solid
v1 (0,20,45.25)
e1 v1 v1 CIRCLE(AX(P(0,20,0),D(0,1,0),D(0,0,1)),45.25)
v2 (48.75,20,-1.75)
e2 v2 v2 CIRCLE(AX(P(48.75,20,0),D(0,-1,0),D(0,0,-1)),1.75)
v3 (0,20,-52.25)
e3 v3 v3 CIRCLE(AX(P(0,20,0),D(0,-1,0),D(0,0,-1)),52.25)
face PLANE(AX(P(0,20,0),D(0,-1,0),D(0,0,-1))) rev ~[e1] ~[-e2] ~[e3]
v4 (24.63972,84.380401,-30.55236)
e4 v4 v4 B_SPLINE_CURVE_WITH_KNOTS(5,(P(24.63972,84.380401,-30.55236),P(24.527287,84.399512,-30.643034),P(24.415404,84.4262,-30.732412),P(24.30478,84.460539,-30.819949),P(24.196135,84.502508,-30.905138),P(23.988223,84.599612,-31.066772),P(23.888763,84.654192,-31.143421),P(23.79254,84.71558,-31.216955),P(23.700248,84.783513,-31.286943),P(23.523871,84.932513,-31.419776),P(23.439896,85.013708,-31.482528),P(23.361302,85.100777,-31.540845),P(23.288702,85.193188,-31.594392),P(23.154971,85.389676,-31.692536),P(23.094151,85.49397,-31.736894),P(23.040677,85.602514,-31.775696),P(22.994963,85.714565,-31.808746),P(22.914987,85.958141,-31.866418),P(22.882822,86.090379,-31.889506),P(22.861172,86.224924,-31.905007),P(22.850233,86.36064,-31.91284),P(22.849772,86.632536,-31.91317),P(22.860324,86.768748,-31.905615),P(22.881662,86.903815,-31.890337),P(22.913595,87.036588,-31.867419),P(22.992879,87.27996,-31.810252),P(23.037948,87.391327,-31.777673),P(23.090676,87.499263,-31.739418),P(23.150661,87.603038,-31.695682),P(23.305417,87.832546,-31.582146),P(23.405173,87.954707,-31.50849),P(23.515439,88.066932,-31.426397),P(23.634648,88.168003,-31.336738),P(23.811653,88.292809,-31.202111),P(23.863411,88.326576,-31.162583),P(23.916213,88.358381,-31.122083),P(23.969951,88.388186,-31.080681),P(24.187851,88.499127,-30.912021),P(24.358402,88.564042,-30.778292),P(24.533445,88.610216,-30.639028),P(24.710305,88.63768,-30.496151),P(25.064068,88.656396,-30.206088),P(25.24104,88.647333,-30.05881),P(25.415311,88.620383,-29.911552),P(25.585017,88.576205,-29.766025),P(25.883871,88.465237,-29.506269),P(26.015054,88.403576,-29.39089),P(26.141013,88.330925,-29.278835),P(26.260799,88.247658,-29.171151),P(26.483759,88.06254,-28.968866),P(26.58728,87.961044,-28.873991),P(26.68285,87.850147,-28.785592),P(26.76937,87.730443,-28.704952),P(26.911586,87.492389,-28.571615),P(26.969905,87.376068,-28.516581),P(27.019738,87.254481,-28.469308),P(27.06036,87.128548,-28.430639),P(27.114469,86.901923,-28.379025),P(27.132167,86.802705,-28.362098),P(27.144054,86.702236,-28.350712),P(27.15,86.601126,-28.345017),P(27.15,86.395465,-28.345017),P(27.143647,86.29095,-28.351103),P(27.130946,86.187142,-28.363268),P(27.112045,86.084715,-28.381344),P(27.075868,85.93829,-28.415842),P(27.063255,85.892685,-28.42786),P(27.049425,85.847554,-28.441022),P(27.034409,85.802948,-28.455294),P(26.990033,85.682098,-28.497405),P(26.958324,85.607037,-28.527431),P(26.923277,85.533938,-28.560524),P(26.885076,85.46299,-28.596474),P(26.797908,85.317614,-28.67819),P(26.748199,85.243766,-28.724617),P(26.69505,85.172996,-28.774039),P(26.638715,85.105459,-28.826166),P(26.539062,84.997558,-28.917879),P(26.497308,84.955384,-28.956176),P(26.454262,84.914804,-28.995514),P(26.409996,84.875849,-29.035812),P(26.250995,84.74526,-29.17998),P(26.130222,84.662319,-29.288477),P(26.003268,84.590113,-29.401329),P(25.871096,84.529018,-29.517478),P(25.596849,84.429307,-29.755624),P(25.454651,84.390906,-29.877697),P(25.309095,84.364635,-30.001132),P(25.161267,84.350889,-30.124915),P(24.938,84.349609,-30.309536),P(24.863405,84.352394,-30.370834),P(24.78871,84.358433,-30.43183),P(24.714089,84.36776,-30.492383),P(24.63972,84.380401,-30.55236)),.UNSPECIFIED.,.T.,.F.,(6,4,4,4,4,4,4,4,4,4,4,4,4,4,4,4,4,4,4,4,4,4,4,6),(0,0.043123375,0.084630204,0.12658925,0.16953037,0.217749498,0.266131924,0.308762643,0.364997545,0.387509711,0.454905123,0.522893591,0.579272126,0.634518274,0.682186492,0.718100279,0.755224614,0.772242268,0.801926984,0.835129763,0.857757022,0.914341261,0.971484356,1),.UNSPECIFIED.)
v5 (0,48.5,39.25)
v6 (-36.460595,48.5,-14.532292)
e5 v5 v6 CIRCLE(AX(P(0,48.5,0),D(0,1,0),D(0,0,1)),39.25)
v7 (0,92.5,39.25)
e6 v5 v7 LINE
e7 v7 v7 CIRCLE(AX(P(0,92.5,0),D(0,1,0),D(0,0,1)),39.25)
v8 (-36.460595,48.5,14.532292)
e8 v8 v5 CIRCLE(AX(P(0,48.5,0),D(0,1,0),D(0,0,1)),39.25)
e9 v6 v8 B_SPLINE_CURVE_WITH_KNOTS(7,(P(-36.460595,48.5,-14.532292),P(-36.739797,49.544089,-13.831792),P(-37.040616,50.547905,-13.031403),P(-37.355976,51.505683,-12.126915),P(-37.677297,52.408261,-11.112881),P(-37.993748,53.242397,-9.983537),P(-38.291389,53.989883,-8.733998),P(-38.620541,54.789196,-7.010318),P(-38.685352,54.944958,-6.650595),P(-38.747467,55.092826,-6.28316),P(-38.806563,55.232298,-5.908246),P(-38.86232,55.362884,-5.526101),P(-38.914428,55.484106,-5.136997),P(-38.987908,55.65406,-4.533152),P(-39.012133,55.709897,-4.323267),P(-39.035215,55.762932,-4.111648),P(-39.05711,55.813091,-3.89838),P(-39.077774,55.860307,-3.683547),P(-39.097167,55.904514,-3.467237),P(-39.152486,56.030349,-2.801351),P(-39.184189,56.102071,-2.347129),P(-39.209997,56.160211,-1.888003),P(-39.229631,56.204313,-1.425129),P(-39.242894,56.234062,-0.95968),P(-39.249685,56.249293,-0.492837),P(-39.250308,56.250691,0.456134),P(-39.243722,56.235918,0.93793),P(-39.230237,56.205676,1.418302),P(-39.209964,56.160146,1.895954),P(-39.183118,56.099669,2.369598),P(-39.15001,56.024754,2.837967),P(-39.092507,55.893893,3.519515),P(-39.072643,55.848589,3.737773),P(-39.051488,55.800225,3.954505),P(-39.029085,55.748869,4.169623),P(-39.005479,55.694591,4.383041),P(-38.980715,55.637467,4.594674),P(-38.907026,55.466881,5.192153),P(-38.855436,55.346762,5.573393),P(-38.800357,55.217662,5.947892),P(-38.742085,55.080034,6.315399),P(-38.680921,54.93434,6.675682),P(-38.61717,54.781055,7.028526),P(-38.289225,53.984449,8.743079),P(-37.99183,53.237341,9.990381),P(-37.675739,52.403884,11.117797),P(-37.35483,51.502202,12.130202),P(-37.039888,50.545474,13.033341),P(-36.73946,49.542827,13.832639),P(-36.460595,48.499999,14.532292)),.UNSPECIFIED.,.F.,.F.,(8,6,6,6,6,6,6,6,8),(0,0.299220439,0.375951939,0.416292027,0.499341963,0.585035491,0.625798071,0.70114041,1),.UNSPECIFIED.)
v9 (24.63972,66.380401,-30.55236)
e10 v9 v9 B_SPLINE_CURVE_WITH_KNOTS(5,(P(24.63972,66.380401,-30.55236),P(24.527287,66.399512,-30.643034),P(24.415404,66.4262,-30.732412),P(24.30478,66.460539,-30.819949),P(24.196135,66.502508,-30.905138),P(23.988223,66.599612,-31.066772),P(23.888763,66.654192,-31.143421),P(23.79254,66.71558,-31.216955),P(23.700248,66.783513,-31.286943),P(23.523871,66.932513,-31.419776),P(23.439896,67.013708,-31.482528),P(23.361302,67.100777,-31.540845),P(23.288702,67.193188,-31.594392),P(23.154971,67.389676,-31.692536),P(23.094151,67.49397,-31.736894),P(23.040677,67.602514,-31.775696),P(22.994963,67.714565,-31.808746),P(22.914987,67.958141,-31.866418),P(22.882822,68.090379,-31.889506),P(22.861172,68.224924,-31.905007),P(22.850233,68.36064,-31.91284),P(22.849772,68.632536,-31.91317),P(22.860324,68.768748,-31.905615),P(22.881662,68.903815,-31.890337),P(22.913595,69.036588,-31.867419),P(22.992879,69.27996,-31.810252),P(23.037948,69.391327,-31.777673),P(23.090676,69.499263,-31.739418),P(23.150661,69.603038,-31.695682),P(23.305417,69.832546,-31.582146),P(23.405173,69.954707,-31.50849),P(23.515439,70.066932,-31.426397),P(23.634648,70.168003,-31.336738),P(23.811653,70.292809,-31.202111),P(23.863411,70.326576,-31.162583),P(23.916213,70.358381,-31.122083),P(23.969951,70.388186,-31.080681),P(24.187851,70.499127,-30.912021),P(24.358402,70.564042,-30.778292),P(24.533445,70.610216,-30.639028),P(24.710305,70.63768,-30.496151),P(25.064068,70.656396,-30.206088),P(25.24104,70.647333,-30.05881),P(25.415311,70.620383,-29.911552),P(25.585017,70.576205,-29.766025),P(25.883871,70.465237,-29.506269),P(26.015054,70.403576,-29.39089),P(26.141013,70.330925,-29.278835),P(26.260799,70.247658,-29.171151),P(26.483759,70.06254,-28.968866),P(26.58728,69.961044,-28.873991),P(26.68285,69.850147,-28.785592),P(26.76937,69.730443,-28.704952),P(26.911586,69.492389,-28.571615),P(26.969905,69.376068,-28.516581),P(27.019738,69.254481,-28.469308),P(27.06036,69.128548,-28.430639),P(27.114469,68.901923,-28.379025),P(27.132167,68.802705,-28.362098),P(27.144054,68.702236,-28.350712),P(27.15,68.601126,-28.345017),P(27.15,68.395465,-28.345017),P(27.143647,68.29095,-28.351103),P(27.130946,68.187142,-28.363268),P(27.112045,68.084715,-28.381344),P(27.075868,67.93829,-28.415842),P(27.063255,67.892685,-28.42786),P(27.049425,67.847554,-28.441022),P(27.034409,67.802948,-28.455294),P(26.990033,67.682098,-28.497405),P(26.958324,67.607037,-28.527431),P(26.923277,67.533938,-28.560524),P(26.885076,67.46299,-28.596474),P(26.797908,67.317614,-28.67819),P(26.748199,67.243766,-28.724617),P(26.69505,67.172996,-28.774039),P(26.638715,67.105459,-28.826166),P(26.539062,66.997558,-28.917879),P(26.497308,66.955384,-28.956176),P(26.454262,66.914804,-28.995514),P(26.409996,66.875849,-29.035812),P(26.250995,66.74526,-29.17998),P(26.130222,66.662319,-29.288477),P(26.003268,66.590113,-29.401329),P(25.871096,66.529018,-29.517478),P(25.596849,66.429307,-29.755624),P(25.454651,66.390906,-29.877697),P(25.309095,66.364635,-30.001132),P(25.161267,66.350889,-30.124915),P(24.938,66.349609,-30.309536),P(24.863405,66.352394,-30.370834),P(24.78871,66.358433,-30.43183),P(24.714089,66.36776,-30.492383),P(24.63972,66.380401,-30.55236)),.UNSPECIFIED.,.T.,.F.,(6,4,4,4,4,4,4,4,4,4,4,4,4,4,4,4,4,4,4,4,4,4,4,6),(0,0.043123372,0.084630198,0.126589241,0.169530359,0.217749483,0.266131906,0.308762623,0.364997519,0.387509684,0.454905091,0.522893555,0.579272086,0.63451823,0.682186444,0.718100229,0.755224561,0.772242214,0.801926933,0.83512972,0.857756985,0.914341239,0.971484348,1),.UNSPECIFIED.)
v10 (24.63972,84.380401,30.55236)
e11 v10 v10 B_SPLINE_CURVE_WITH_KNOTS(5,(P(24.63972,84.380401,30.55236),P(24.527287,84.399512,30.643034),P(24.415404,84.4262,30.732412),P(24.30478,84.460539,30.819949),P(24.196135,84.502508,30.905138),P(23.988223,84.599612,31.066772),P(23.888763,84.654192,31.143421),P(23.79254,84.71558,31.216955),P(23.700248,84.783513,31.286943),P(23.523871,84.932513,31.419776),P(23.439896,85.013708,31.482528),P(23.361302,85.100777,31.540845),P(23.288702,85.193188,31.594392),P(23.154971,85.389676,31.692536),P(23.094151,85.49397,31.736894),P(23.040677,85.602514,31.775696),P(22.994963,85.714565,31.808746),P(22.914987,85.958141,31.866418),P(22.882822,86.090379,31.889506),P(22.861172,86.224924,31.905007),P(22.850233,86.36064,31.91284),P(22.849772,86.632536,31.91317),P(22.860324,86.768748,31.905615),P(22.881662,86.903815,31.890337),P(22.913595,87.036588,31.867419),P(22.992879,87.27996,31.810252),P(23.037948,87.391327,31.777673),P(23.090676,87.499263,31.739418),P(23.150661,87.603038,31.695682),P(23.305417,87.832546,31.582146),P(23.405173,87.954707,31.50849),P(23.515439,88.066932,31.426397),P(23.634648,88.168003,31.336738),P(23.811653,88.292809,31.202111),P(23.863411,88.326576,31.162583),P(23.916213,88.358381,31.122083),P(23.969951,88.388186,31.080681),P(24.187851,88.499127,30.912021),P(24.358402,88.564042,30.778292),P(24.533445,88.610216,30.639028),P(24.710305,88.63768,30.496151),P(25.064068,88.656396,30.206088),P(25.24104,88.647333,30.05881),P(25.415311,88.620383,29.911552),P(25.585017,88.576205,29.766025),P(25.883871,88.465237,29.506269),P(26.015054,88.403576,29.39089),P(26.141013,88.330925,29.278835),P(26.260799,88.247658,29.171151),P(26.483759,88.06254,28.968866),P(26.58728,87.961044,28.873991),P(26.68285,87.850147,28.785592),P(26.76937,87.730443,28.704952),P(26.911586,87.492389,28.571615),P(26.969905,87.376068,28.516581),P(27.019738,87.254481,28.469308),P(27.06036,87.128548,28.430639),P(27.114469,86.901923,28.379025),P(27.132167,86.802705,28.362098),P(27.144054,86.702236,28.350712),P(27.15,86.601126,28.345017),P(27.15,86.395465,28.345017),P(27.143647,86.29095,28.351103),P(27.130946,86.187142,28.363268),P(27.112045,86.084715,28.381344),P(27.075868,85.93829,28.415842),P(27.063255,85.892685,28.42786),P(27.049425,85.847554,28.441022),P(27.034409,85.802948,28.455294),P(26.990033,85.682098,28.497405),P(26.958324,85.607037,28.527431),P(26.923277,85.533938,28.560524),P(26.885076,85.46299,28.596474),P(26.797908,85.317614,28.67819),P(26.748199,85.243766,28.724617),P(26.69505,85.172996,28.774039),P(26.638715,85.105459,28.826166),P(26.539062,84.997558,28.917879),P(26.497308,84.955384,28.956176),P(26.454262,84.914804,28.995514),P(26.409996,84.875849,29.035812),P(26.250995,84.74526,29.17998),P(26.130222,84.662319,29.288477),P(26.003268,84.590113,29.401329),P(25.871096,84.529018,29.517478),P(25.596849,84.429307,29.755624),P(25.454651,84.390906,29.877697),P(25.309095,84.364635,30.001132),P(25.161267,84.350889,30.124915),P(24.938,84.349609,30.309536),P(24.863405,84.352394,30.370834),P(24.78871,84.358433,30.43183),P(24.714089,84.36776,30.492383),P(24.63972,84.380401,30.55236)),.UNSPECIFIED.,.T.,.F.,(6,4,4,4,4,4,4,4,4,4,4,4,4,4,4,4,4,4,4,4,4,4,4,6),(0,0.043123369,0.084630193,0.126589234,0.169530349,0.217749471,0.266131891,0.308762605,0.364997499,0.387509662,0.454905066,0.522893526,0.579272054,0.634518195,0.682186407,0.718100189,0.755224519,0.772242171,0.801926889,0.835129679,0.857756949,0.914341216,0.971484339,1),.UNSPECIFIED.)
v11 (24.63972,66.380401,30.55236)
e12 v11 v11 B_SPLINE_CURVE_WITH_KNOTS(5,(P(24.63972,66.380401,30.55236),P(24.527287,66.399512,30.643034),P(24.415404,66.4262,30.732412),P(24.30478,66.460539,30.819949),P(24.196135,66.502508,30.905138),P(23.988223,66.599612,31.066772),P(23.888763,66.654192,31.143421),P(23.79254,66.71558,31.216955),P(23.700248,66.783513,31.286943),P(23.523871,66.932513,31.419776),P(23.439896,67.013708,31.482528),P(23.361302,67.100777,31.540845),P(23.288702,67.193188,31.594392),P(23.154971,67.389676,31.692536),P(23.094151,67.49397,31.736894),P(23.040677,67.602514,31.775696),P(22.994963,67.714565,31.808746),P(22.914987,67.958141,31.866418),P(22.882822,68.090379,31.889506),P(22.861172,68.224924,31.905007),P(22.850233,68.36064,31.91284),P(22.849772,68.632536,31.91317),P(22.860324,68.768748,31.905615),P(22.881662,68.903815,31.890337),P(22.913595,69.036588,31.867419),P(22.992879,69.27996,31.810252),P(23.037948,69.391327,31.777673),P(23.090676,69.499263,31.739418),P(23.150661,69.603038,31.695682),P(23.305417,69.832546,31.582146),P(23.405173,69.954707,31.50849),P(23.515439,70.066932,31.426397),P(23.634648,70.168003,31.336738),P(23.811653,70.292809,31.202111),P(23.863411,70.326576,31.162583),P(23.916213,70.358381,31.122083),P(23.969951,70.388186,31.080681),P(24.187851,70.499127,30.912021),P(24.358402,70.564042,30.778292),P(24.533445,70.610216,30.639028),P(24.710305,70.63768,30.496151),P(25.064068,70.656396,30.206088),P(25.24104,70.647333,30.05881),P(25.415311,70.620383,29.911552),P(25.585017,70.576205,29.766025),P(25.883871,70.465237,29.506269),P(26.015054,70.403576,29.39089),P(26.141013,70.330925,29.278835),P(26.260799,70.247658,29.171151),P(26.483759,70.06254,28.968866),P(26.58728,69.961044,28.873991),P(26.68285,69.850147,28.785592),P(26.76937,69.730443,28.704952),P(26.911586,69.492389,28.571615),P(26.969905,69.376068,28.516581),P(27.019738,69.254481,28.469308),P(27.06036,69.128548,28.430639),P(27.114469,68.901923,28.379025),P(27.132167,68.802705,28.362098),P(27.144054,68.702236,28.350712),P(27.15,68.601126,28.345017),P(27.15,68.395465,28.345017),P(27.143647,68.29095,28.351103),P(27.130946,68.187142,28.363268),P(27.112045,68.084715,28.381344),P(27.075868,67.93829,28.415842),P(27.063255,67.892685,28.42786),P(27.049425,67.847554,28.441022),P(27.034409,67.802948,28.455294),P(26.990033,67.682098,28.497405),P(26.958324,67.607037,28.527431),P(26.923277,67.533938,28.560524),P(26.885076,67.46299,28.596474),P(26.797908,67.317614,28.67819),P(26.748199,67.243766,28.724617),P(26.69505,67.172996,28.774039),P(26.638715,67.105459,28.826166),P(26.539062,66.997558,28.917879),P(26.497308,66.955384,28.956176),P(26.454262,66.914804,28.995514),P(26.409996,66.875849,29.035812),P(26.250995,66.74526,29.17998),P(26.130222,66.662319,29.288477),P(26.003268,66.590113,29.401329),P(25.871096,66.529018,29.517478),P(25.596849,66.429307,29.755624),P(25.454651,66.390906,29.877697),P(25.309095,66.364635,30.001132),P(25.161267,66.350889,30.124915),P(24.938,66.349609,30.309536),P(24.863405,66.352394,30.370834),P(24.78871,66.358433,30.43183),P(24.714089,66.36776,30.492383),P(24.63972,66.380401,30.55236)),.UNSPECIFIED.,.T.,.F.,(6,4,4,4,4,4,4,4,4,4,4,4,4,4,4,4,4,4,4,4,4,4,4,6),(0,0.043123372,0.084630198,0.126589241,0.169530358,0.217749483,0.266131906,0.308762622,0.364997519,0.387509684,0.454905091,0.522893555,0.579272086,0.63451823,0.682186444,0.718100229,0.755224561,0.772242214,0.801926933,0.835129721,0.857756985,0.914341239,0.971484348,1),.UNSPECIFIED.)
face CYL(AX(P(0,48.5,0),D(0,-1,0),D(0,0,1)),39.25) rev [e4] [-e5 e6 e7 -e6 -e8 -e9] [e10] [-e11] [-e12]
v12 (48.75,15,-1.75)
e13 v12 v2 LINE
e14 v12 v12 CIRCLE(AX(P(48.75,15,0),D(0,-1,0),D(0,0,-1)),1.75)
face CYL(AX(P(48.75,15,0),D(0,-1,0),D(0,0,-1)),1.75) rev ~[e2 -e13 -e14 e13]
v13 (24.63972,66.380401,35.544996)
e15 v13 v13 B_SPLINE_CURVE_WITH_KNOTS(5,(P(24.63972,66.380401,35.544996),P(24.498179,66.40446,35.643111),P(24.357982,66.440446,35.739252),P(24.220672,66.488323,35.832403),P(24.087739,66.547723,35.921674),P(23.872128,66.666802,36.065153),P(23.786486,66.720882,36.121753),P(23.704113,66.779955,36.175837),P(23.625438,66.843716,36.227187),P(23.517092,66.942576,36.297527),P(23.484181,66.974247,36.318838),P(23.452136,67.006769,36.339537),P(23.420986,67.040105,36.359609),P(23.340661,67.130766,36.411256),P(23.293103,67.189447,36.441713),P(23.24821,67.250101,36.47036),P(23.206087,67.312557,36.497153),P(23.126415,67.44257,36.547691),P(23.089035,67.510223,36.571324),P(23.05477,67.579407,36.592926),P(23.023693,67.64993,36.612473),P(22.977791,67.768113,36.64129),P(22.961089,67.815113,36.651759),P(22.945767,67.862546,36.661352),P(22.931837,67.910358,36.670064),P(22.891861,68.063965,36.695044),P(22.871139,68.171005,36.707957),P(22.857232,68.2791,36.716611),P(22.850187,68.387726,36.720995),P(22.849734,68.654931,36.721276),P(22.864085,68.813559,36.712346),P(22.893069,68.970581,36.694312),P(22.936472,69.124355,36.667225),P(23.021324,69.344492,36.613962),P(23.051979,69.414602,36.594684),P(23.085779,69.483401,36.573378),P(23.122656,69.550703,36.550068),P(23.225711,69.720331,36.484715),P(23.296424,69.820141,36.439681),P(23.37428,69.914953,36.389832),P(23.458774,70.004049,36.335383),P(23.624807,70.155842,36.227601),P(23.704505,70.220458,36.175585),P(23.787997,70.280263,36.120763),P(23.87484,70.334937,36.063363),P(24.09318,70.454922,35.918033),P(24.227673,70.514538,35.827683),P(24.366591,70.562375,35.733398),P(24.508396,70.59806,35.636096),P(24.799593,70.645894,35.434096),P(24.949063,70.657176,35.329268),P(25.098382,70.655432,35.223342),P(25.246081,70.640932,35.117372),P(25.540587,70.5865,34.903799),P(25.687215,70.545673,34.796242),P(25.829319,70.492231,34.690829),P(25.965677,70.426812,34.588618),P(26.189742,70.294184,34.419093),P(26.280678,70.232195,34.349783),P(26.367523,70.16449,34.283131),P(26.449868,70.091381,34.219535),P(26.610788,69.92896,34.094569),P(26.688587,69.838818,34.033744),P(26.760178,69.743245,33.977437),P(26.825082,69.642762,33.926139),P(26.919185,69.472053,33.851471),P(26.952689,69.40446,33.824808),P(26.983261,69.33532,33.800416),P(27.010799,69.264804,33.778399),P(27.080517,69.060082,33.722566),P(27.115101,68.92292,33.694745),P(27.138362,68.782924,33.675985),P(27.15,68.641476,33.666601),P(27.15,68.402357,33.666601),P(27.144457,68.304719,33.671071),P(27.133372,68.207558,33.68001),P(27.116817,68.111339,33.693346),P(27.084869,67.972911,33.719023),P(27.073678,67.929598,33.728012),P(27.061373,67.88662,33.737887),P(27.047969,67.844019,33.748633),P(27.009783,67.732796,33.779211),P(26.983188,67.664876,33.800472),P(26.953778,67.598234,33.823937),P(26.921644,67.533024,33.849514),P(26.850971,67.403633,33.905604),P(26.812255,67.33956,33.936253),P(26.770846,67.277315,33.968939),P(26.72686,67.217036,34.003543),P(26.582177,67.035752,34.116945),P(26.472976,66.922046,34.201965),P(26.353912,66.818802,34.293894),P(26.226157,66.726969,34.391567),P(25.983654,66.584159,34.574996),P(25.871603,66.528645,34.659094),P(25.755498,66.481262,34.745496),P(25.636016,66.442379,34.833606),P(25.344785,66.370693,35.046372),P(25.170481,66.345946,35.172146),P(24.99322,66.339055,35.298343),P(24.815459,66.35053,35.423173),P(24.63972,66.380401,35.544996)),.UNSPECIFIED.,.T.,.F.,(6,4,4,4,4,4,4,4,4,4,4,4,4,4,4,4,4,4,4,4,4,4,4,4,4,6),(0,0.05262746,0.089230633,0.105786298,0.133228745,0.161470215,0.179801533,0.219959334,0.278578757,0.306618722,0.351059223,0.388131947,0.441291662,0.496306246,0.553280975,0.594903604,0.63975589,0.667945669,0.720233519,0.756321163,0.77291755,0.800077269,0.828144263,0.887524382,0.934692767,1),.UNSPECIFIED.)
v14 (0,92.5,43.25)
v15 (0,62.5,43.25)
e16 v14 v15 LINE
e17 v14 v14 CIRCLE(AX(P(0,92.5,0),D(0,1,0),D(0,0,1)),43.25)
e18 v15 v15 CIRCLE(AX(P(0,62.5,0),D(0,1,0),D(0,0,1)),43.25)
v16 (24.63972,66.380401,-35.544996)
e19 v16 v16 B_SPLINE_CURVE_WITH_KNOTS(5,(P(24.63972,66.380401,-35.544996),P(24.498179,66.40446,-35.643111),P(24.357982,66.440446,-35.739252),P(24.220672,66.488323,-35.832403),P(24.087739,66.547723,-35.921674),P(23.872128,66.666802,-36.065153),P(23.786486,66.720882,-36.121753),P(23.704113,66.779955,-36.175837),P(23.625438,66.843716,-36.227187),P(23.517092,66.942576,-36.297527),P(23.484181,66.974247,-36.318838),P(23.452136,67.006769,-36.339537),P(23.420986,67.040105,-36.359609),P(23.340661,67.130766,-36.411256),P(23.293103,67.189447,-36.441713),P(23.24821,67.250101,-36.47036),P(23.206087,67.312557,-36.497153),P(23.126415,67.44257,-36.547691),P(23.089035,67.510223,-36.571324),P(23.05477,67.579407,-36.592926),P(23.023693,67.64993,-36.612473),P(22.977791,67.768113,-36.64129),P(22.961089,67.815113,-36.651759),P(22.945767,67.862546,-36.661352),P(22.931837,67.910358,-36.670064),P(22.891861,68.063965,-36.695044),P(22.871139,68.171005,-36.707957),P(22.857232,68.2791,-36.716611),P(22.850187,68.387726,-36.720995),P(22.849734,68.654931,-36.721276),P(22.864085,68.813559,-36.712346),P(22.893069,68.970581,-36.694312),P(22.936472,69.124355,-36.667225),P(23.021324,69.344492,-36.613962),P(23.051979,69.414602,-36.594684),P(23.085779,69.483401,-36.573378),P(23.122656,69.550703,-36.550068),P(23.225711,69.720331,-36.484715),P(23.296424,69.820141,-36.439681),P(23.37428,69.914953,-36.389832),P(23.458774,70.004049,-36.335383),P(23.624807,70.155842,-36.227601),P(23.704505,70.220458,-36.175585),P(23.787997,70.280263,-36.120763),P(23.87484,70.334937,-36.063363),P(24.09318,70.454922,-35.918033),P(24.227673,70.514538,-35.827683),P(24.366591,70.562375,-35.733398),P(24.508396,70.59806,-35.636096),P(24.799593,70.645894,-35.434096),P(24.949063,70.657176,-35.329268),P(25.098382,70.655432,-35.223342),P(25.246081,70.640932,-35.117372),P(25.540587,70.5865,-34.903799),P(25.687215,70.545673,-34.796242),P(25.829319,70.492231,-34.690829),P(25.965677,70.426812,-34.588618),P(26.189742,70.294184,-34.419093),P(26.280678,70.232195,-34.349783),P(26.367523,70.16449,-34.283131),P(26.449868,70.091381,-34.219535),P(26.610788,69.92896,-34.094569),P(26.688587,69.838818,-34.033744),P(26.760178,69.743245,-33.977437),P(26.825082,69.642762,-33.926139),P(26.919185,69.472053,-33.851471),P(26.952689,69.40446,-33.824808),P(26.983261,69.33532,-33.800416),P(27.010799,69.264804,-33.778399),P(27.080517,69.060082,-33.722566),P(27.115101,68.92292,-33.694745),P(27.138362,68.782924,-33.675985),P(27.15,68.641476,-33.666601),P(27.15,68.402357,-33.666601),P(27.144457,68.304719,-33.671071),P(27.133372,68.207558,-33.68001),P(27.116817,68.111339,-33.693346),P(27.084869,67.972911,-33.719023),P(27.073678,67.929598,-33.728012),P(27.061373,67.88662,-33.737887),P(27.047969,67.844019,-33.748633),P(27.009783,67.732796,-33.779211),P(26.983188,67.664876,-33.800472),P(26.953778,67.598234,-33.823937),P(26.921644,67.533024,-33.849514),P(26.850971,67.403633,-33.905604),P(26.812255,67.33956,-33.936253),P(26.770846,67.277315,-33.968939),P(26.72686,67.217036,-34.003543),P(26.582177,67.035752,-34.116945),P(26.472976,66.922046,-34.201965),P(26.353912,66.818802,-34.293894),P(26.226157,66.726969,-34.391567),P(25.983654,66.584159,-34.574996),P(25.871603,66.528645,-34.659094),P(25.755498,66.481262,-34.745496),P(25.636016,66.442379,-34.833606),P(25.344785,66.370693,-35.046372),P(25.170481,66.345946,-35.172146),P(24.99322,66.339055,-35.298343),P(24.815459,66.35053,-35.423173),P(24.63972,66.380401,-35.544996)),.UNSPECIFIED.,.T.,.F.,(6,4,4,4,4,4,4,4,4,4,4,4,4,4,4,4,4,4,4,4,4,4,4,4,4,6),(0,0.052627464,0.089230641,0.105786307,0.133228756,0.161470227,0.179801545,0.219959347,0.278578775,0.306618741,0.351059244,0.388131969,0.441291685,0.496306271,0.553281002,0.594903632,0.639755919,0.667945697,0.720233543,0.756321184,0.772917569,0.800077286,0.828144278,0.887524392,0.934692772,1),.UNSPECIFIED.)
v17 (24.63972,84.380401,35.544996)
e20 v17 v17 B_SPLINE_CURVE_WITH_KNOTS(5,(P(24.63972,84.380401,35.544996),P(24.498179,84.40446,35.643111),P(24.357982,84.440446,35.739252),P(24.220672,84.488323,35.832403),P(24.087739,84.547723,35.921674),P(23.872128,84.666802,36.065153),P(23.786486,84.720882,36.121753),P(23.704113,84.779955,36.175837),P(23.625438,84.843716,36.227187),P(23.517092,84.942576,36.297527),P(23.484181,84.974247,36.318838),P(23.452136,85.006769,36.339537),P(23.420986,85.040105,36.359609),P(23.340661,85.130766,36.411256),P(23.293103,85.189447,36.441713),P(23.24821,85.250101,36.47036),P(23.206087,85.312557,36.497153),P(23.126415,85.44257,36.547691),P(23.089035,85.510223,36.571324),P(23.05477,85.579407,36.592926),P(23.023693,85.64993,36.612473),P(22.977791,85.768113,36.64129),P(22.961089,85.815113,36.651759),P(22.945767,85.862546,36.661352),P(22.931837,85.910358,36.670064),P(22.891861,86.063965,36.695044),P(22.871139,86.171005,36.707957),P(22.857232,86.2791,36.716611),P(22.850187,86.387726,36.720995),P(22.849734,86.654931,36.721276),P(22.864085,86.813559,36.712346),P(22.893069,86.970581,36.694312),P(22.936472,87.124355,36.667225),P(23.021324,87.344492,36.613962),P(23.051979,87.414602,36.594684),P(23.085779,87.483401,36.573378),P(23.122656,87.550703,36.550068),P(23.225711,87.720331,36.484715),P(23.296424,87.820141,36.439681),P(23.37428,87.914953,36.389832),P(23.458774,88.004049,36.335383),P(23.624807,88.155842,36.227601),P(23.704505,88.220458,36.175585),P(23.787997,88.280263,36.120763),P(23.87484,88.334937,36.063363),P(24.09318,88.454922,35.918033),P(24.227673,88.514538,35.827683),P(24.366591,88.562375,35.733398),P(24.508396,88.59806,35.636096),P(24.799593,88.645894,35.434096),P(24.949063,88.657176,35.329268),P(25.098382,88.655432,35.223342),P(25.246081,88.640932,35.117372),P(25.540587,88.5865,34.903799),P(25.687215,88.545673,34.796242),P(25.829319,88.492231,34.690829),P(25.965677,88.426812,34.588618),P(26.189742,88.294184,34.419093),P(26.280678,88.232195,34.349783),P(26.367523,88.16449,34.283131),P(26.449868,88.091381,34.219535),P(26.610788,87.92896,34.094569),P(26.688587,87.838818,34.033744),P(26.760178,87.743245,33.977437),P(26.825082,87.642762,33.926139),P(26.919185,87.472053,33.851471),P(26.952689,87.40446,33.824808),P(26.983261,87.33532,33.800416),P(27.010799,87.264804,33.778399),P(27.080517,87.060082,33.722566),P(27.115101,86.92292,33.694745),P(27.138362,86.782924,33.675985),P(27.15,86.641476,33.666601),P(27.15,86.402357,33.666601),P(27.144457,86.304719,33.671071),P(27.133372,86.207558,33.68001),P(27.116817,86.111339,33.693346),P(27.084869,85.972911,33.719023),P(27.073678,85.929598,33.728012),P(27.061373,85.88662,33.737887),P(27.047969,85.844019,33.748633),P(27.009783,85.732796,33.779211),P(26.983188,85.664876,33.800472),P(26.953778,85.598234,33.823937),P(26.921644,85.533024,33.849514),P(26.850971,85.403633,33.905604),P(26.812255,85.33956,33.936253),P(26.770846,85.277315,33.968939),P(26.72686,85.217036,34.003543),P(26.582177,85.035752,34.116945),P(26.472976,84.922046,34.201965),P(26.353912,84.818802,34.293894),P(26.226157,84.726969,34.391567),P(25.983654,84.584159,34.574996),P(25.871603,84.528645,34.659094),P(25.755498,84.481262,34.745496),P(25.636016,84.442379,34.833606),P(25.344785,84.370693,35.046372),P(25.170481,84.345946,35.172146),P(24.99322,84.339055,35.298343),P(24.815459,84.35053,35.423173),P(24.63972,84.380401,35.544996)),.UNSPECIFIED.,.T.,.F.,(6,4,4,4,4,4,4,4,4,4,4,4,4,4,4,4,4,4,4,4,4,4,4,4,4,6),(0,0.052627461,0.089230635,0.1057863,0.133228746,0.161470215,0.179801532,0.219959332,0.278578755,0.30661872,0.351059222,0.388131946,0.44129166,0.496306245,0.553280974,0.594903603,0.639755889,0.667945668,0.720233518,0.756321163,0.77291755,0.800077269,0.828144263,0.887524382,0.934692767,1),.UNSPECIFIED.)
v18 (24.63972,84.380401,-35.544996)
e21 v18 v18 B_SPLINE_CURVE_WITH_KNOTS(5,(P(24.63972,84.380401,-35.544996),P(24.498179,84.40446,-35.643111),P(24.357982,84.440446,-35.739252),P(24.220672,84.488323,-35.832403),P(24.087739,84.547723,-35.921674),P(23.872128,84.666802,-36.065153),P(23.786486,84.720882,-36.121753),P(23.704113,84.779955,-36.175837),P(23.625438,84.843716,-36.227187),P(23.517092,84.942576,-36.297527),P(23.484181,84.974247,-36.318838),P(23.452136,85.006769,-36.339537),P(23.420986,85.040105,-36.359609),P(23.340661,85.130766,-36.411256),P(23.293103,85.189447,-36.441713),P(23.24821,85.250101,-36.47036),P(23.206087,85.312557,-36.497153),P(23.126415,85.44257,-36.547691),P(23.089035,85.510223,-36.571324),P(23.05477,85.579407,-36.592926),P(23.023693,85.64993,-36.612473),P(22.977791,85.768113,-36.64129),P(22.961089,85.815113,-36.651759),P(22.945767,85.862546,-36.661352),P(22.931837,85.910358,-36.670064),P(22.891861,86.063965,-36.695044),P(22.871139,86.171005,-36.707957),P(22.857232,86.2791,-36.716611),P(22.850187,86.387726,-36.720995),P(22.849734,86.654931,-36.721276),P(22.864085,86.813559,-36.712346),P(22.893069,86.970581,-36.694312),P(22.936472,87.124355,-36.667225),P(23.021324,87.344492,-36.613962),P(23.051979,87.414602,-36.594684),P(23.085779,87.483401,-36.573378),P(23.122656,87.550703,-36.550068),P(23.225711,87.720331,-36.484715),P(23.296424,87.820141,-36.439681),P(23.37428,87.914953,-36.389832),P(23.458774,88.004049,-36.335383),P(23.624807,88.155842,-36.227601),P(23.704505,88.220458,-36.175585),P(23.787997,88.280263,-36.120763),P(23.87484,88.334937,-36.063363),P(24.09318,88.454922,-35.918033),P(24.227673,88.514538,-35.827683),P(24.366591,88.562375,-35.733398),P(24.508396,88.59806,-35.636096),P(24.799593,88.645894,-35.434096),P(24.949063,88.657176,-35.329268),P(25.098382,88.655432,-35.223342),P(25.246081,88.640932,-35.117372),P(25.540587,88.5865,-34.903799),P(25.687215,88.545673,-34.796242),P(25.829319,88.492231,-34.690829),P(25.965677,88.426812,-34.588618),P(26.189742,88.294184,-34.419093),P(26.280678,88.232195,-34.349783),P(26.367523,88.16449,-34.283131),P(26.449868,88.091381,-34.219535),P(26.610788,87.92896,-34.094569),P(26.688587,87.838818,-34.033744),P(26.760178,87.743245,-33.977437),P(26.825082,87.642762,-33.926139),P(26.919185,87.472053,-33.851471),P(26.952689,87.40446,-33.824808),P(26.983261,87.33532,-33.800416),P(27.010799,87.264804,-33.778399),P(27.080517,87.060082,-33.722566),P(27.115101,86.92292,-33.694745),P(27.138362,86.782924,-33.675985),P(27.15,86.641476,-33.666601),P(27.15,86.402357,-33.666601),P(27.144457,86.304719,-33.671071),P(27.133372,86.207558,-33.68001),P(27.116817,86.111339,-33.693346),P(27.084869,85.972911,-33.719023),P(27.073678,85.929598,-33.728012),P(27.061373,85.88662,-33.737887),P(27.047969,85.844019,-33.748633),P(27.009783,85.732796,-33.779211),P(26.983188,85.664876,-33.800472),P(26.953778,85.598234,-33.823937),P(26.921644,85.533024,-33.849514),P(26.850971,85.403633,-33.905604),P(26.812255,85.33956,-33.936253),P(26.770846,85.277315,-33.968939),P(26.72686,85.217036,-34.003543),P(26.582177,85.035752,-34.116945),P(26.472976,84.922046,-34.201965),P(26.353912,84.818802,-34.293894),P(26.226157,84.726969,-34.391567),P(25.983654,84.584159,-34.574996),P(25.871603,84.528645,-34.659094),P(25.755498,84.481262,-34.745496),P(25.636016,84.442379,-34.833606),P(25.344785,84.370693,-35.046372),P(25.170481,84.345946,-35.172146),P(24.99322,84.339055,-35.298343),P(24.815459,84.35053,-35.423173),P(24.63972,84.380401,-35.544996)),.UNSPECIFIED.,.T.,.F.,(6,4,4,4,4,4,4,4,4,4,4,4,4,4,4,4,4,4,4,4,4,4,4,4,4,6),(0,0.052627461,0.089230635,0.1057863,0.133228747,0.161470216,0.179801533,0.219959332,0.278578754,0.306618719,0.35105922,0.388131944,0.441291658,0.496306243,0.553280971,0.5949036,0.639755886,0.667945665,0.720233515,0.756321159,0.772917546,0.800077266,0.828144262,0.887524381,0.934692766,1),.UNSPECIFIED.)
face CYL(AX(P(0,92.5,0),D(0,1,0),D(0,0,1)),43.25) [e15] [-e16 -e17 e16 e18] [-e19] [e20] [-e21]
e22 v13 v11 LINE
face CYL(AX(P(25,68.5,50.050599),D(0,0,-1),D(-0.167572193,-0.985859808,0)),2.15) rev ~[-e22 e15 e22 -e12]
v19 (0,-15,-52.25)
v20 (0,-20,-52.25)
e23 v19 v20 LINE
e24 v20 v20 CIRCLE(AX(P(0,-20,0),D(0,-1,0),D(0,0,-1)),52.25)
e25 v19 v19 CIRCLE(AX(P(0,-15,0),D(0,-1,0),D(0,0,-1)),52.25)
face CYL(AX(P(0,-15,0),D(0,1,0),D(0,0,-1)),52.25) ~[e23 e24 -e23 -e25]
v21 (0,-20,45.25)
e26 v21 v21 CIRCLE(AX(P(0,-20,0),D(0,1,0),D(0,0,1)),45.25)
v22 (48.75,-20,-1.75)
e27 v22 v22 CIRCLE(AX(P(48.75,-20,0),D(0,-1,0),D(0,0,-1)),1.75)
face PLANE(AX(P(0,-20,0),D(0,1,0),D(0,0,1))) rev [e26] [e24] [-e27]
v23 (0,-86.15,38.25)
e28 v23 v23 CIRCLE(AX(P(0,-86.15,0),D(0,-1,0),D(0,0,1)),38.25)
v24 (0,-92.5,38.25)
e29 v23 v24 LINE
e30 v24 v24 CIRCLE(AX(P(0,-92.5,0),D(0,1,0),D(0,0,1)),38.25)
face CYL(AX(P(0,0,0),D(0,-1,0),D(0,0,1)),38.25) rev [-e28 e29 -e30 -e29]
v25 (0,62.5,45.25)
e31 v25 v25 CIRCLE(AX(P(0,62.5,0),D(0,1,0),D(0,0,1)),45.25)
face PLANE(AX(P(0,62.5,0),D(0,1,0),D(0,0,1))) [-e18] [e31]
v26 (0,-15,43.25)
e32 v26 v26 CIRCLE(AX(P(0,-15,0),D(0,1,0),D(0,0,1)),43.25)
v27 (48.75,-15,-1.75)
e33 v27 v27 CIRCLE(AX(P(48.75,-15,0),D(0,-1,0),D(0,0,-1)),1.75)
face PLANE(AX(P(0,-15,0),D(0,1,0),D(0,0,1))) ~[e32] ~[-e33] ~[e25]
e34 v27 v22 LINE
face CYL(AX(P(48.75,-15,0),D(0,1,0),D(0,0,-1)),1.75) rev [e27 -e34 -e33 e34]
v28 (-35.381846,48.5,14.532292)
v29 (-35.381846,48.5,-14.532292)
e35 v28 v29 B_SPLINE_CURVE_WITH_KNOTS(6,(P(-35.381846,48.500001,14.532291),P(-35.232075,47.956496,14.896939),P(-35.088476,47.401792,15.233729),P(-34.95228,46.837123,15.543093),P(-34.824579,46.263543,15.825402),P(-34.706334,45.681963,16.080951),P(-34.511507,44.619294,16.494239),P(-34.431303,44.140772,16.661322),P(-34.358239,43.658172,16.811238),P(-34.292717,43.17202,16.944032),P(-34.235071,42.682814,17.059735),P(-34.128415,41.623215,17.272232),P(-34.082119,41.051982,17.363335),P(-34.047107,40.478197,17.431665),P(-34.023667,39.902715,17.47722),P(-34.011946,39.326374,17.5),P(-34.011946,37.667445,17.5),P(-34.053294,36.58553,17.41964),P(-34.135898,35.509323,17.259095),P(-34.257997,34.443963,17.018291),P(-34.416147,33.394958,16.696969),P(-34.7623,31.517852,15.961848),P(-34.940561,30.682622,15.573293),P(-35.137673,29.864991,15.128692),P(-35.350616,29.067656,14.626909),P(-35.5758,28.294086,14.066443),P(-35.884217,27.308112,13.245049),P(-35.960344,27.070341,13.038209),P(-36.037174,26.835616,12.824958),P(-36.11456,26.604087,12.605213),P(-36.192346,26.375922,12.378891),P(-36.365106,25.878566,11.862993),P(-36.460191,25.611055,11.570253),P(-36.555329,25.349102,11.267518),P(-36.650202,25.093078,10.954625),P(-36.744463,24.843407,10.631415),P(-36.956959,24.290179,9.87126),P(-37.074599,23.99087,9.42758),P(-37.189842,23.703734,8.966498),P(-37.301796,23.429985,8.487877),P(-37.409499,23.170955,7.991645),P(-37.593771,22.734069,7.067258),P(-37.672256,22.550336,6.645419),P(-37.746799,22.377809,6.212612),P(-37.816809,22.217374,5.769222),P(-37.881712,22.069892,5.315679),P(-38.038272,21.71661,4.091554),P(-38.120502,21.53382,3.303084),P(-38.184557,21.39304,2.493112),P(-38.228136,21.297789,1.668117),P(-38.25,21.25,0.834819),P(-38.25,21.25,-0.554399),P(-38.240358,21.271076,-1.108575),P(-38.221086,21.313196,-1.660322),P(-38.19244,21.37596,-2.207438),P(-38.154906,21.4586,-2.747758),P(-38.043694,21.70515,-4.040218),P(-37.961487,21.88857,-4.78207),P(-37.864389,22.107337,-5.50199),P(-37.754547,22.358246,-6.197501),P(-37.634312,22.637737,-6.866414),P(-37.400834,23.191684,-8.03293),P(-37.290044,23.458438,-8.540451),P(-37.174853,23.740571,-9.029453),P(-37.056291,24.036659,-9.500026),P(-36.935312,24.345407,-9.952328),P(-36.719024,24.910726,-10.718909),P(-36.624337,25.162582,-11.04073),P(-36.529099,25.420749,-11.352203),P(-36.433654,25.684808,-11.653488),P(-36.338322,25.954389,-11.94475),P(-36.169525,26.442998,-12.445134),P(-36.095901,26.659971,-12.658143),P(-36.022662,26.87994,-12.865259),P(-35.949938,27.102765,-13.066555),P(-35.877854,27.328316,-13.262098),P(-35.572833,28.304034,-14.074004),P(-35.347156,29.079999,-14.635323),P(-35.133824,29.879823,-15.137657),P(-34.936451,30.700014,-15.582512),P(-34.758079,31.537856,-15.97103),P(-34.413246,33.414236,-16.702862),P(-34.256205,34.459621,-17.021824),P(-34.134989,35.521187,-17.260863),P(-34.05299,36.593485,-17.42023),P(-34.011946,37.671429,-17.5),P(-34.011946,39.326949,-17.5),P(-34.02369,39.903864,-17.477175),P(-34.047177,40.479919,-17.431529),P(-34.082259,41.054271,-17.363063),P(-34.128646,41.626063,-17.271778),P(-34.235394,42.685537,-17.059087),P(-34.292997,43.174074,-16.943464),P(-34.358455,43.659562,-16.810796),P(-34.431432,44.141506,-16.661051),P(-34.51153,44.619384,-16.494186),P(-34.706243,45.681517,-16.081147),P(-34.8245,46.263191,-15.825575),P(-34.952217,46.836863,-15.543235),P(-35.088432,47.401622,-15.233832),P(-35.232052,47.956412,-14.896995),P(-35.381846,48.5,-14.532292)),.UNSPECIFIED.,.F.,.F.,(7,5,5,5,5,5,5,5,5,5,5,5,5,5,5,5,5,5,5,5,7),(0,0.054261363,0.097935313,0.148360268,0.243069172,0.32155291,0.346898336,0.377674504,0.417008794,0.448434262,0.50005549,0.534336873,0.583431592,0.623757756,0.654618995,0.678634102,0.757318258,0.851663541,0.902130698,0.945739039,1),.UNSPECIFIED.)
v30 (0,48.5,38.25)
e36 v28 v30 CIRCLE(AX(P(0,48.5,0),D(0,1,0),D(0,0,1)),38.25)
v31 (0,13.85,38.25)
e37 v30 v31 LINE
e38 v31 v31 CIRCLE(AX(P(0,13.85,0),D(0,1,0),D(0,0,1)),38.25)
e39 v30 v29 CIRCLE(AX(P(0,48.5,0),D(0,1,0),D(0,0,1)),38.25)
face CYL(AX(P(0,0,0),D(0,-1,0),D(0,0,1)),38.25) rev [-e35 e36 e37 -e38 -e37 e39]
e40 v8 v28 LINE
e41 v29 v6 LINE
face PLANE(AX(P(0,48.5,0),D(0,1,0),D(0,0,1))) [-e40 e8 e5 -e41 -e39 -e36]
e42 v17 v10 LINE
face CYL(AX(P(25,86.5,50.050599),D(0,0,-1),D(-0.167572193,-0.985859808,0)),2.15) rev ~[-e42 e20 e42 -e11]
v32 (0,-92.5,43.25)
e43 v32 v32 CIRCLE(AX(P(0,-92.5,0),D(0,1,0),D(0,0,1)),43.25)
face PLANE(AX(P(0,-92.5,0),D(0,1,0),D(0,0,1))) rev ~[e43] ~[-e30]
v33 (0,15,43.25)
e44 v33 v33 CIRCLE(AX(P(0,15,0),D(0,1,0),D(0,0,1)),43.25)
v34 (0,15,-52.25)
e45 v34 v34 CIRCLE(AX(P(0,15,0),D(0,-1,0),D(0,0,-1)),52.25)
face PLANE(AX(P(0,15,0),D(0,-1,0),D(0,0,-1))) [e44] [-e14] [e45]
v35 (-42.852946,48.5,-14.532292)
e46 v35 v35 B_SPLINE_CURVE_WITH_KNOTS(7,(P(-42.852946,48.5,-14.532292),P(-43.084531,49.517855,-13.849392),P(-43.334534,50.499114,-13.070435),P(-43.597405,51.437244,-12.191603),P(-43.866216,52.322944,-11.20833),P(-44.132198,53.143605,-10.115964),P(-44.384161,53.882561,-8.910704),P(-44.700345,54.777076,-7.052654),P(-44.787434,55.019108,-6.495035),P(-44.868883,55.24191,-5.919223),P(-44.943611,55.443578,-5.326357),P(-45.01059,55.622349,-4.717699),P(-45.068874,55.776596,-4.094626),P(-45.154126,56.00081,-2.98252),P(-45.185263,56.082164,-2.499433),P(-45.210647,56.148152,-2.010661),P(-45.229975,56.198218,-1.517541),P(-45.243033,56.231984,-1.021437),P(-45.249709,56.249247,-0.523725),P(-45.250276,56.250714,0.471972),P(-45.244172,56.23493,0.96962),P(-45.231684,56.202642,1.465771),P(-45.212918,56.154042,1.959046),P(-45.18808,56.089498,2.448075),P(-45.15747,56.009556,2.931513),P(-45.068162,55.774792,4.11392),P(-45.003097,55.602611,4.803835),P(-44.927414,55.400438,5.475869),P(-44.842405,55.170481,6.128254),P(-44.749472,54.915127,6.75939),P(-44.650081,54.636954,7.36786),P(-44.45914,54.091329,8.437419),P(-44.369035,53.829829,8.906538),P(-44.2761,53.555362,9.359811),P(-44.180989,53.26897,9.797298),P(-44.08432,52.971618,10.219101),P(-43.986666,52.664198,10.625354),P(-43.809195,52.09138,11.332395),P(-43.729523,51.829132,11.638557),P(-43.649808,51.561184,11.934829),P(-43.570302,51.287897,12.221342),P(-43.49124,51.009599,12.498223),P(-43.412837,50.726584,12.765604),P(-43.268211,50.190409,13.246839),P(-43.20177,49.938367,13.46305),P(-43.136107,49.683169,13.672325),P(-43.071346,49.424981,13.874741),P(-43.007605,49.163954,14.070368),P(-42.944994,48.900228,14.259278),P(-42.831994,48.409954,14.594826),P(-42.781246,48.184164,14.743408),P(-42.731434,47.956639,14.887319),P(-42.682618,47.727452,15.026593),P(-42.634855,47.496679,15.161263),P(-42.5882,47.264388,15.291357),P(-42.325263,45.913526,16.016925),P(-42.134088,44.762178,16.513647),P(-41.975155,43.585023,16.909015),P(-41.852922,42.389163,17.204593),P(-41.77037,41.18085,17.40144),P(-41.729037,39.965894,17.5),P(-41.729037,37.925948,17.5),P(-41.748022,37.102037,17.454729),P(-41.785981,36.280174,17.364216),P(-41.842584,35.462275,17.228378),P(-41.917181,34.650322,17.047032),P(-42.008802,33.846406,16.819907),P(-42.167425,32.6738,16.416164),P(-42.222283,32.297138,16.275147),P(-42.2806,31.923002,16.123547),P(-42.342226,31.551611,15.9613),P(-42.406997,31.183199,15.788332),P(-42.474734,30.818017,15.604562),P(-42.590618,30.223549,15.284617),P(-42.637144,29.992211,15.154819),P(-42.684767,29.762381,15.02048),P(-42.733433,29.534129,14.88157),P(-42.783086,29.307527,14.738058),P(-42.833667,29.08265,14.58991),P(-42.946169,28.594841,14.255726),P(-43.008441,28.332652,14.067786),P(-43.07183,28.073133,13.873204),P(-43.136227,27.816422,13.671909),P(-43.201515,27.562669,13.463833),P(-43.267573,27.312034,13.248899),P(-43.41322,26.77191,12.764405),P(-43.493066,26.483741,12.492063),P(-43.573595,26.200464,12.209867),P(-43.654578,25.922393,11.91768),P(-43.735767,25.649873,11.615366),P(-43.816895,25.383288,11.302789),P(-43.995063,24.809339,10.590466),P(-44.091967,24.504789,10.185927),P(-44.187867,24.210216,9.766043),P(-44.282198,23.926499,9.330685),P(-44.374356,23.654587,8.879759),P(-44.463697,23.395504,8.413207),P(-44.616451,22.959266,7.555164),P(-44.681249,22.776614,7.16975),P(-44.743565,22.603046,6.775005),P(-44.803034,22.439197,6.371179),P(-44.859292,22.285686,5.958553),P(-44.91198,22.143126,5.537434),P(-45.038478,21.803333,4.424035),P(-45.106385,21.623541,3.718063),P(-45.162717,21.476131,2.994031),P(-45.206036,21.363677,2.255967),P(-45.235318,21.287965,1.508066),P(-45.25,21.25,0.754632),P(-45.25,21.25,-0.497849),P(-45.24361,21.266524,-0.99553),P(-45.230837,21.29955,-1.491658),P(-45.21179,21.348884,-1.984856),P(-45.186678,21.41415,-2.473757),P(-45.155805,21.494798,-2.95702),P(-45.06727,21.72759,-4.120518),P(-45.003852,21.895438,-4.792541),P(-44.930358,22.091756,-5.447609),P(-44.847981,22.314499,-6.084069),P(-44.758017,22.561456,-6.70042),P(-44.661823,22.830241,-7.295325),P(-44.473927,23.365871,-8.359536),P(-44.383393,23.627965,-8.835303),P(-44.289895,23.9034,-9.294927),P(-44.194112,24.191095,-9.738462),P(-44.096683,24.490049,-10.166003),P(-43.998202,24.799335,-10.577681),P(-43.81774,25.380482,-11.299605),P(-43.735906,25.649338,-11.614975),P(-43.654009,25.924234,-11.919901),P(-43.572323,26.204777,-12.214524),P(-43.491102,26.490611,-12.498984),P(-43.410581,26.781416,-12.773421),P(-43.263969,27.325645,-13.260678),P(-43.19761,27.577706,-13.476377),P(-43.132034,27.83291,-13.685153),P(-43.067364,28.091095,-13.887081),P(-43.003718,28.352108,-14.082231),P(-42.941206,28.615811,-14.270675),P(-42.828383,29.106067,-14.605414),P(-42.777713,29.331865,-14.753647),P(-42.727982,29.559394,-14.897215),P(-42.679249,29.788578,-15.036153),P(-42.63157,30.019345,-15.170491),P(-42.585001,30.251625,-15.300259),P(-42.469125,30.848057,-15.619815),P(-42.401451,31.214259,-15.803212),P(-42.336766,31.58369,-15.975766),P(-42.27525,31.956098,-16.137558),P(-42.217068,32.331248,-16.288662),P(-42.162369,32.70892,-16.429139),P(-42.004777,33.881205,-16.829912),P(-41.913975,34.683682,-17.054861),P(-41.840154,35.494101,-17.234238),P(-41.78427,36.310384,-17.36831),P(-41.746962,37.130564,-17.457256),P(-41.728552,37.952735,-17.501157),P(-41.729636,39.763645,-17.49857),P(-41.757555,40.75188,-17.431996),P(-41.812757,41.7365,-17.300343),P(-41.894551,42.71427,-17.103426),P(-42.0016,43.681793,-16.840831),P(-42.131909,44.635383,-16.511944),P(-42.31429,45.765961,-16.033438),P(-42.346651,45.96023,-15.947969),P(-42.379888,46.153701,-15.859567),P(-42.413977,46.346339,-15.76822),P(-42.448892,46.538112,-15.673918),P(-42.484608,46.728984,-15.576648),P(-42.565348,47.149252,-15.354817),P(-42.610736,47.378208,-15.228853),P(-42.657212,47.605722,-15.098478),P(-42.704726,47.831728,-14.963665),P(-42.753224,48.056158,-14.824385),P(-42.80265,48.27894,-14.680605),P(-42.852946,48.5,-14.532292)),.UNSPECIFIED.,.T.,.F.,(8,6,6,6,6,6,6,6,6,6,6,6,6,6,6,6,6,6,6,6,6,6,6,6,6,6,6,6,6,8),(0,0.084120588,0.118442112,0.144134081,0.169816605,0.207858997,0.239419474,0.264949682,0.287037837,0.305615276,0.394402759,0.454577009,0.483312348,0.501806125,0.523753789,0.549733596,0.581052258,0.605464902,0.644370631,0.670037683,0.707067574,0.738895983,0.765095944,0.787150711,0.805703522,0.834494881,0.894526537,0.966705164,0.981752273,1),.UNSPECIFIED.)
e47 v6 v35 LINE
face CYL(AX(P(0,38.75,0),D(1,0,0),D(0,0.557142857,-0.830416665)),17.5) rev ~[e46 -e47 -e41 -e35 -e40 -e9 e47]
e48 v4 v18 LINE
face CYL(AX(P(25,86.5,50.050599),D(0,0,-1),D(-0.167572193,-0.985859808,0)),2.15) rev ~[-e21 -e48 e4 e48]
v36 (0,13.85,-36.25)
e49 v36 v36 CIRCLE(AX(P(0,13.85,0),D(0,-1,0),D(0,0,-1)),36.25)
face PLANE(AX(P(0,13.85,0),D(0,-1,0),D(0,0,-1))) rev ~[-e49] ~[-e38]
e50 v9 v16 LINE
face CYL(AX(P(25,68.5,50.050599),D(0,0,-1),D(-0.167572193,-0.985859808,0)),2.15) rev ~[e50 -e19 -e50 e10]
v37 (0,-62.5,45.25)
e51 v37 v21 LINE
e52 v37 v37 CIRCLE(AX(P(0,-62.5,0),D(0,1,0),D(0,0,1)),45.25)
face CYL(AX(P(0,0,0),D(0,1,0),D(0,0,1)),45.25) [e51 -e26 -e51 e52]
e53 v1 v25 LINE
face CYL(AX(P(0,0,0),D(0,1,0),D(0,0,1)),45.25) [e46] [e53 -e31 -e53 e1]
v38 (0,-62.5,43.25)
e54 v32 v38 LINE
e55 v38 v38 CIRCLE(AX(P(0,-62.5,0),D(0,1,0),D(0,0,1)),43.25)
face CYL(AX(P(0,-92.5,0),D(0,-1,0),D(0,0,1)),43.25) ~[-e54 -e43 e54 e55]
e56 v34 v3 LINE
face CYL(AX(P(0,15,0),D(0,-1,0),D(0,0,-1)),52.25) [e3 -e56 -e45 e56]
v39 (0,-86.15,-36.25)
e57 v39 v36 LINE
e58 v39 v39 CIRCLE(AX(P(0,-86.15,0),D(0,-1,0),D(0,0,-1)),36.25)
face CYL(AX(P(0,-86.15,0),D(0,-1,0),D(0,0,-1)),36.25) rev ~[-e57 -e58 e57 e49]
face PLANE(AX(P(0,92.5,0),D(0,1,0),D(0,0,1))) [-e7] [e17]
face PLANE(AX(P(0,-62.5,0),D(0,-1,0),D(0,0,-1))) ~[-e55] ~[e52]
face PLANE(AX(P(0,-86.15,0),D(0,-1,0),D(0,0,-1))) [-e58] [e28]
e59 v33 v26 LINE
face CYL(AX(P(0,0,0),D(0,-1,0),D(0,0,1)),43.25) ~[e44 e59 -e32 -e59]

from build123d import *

# Parameters (mm, degrees)
SKETCH1_R                      = 45.25
SKETCH1_R_2                    = 38.25
BOSS_EXTRUDE1_DEPTH            = 92.5
BOSS_EXTRUDE2_START            = -6.35
SKETCH2_R                      = 38.25
SKETCH2_R_2                    = 36.25
BOSS_EXTRUDE2_DEPTH            = 100
CUT_EXTRUDE3_START             = -44
SKETCH6_R                      = 39.25
SKETCH6_R_2                    = 38.25
CUT_EXTRUDE3_DEPTH             = 44
SKETCH7_R                      = 17.5
CUT_EXTRUDE4_DEPTH             = 113.478331247
SKETCH8_R                      = 45.25
SKETCH8_R_2                    = 43.25
CUT_EXTRUDE5_DEPTH             = 30
SKETCH9_R                      = 45.25
SKETCH9_R_2                    = 43.25
CUT_EXTRUDE6_DEPTH             = 15
SKETCH10_R                     = 52.25
SKETCH10_R_2                   = 43.25
SKETCH10_R_3                   = 1.75
BOSS_EXTRUDE3_DEPTH            = 5
CBORE_FOR_M4_SHCS1_D           = 4.3
CBORE_FOR_M4_SHCS1_DEPTH       = 100.101198794
CBORE_FOR_M4_SHCS1_CBORE_D     = 8
CBORE_FOR_M4_SHCS1_CBORE_DEPTH = 4
CBORE_FOR_M4_SHCS1_TIP         = 1.291850331


with BuildPart() as part:
    # Sketch1 → Boss-Extrude1 (new, symmetric)
    with BuildSketch(Plane(origin=(0, 0, 0), x_dir=(1, 0, 0), z_dir=(0, 1, 0))):
        with Locations(Location((0, 0, 0), (0, 0, 270))):
            Circle(SKETCH1_R)
        with Locations(Location((0, 0, 0), (0, 0, 270))):
            Circle(SKETCH1_R_2, mode=Mode.SUBTRACT)
    extrude(amount=BOSS_EXTRUDE1_DEPTH, both=True)

    # Sketch2 → Boss-Extrude2 (add)
    with BuildSketch(Plane.XZ.offset(92.5).offset(BOSS_EXTRUDE2_START)):
        with Locations(Location((0, 0, 0), (0, 0, 270))):
            Circle(SKETCH2_R)
        with Locations(Location((0, 0, 0), (0, 0, 270))):
            Circle(SKETCH2_R_2, mode=Mode.SUBTRACT)
    extrude(amount=-BOSS_EXTRUDE2_DEPTH)

    # Sketch6 → Cut-Extrude3 (cut)
    with BuildSketch(Plane(origin=(0, 92.5, 0), x_dir=(1, 0, 0), z_dir=(0, 1, 0)).offset(CUT_EXTRUDE3_START)):
        with Locations(Location((0, 0, 0), (0, 0, 270))):
            Circle(SKETCH6_R)
        with Locations(Location((0, 0, 0), (0, 0, 90))):
            Circle(SKETCH6_R_2, mode=Mode.SUBTRACT)
    extrude(amount=CUT_EXTRUDE3_DEPTH, mode=Mode.SUBTRACT)

    # Sketch7 → Cut-Extrude4 (cut, through all)
    with BuildSketch(Plane(origin=(0, 0, 0), x_dir=(0, 0, -1), z_dir=(1, 0, 0))):
        with Locations(Location((0, 38.75, 0), (0, 0, 33.858436659))):
            Circle(SKETCH7_R)
    extrude(amount=-CUT_EXTRUDE4_DEPTH, mode=Mode.SUBTRACT)

    # Sketch8 → Cut-Extrude5 (cut)
    with BuildSketch(Plane(origin=(0, 92.5, 0), x_dir=(1, 0, 0), z_dir=(0, 1, 0))):
        with Locations(Location((0, 0, 0), (0, 0, 270))):
            Circle(SKETCH8_R)
        with Locations(Location((0, 0, 0), (0, 0, 270))):
            Circle(SKETCH8_R_2, mode=Mode.SUBTRACT)
    cut_extrude5 = extrude(amount=-CUT_EXTRUDE5_DEPTH, mode=Mode.SUBTRACT)

    # Mirror1: Cut-Extrude5 across plane
    add(cut_extrude5.mirror(Plane.ZX), mode=Mode.SUBTRACT)

    # Sketch9 → Cut-Extrude6 (cut, symmetric)
    with BuildSketch(Plane(origin=(0, 0, 0), x_dir=(1, 0, 0), z_dir=(0, 1, 0))):
        with Locations(Location((0, 0, 0), (0, 0, 270))):
            Circle(SKETCH9_R)
        with Locations(Location((0, 0, 0), (0, 0, 270))):
            Circle(SKETCH9_R_2, mode=Mode.SUBTRACT)
    extrude(amount=CUT_EXTRUDE6_DEPTH, both=True, mode=Mode.SUBTRACT)

    # Sketch10 → Boss-Extrude3 (add)
    with BuildSketch(Plane(origin=(0, 15, 0), x_dir=(-1, 0, 0), z_dir=(0, -1, 0))):
        with Locations(Location((0, 0, 0), (0, 0, 90))):
            Circle(SKETCH10_R)
        with Locations(Location((0, 0, 0), (0, 0, 270))):
            Circle(SKETCH10_R_2, mode=Mode.SUBTRACT)
        with Locations(Location((-48.75, 0, 0), (0, 0, 90))):
            Circle(SKETCH10_R_3, mode=Mode.SUBTRACT)
    boss_extrude3 = extrude(amount=-BOSS_EXTRUDE3_DEPTH)

    # Mirror2: Boss-Extrude3 across plane
    add(boss_extrude3.mirror(Plane.ZX))

    # CBORE for M4 SHCS1
    with Locations(Plane(origin=(401.677021233, -407.224238547, 50.050599397), x_dir=(0.16757219303491572, 0.985859807539322, 0), z_dir=(0, 0, 1))):
        with Locations((405.876811742, 451.068889591), (423.622288278, 454.085189065)):
            CounterBoreHole(CBORE_FOR_M4_SHCS1_D / 2, CBORE_FOR_M4_SHCS1_CBORE_D / 2, CBORE_FOR_M4_SHCS1_CBORE_DEPTH, depth=CBORE_FOR_M4_SHCS1_DEPTH)
            with Locations((0, 0, -(CBORE_FOR_M4_SHCS1_DEPTH + CBORE_FOR_M4_SHCS1_TIP / 2))):  # 118° drill point
                Cone(0, CBORE_FOR_M4_SHCS1_D / 2, CBORE_FOR_M4_SHCS1_TIP, mode=Mode.SUBTRACT)


solid = part.part
